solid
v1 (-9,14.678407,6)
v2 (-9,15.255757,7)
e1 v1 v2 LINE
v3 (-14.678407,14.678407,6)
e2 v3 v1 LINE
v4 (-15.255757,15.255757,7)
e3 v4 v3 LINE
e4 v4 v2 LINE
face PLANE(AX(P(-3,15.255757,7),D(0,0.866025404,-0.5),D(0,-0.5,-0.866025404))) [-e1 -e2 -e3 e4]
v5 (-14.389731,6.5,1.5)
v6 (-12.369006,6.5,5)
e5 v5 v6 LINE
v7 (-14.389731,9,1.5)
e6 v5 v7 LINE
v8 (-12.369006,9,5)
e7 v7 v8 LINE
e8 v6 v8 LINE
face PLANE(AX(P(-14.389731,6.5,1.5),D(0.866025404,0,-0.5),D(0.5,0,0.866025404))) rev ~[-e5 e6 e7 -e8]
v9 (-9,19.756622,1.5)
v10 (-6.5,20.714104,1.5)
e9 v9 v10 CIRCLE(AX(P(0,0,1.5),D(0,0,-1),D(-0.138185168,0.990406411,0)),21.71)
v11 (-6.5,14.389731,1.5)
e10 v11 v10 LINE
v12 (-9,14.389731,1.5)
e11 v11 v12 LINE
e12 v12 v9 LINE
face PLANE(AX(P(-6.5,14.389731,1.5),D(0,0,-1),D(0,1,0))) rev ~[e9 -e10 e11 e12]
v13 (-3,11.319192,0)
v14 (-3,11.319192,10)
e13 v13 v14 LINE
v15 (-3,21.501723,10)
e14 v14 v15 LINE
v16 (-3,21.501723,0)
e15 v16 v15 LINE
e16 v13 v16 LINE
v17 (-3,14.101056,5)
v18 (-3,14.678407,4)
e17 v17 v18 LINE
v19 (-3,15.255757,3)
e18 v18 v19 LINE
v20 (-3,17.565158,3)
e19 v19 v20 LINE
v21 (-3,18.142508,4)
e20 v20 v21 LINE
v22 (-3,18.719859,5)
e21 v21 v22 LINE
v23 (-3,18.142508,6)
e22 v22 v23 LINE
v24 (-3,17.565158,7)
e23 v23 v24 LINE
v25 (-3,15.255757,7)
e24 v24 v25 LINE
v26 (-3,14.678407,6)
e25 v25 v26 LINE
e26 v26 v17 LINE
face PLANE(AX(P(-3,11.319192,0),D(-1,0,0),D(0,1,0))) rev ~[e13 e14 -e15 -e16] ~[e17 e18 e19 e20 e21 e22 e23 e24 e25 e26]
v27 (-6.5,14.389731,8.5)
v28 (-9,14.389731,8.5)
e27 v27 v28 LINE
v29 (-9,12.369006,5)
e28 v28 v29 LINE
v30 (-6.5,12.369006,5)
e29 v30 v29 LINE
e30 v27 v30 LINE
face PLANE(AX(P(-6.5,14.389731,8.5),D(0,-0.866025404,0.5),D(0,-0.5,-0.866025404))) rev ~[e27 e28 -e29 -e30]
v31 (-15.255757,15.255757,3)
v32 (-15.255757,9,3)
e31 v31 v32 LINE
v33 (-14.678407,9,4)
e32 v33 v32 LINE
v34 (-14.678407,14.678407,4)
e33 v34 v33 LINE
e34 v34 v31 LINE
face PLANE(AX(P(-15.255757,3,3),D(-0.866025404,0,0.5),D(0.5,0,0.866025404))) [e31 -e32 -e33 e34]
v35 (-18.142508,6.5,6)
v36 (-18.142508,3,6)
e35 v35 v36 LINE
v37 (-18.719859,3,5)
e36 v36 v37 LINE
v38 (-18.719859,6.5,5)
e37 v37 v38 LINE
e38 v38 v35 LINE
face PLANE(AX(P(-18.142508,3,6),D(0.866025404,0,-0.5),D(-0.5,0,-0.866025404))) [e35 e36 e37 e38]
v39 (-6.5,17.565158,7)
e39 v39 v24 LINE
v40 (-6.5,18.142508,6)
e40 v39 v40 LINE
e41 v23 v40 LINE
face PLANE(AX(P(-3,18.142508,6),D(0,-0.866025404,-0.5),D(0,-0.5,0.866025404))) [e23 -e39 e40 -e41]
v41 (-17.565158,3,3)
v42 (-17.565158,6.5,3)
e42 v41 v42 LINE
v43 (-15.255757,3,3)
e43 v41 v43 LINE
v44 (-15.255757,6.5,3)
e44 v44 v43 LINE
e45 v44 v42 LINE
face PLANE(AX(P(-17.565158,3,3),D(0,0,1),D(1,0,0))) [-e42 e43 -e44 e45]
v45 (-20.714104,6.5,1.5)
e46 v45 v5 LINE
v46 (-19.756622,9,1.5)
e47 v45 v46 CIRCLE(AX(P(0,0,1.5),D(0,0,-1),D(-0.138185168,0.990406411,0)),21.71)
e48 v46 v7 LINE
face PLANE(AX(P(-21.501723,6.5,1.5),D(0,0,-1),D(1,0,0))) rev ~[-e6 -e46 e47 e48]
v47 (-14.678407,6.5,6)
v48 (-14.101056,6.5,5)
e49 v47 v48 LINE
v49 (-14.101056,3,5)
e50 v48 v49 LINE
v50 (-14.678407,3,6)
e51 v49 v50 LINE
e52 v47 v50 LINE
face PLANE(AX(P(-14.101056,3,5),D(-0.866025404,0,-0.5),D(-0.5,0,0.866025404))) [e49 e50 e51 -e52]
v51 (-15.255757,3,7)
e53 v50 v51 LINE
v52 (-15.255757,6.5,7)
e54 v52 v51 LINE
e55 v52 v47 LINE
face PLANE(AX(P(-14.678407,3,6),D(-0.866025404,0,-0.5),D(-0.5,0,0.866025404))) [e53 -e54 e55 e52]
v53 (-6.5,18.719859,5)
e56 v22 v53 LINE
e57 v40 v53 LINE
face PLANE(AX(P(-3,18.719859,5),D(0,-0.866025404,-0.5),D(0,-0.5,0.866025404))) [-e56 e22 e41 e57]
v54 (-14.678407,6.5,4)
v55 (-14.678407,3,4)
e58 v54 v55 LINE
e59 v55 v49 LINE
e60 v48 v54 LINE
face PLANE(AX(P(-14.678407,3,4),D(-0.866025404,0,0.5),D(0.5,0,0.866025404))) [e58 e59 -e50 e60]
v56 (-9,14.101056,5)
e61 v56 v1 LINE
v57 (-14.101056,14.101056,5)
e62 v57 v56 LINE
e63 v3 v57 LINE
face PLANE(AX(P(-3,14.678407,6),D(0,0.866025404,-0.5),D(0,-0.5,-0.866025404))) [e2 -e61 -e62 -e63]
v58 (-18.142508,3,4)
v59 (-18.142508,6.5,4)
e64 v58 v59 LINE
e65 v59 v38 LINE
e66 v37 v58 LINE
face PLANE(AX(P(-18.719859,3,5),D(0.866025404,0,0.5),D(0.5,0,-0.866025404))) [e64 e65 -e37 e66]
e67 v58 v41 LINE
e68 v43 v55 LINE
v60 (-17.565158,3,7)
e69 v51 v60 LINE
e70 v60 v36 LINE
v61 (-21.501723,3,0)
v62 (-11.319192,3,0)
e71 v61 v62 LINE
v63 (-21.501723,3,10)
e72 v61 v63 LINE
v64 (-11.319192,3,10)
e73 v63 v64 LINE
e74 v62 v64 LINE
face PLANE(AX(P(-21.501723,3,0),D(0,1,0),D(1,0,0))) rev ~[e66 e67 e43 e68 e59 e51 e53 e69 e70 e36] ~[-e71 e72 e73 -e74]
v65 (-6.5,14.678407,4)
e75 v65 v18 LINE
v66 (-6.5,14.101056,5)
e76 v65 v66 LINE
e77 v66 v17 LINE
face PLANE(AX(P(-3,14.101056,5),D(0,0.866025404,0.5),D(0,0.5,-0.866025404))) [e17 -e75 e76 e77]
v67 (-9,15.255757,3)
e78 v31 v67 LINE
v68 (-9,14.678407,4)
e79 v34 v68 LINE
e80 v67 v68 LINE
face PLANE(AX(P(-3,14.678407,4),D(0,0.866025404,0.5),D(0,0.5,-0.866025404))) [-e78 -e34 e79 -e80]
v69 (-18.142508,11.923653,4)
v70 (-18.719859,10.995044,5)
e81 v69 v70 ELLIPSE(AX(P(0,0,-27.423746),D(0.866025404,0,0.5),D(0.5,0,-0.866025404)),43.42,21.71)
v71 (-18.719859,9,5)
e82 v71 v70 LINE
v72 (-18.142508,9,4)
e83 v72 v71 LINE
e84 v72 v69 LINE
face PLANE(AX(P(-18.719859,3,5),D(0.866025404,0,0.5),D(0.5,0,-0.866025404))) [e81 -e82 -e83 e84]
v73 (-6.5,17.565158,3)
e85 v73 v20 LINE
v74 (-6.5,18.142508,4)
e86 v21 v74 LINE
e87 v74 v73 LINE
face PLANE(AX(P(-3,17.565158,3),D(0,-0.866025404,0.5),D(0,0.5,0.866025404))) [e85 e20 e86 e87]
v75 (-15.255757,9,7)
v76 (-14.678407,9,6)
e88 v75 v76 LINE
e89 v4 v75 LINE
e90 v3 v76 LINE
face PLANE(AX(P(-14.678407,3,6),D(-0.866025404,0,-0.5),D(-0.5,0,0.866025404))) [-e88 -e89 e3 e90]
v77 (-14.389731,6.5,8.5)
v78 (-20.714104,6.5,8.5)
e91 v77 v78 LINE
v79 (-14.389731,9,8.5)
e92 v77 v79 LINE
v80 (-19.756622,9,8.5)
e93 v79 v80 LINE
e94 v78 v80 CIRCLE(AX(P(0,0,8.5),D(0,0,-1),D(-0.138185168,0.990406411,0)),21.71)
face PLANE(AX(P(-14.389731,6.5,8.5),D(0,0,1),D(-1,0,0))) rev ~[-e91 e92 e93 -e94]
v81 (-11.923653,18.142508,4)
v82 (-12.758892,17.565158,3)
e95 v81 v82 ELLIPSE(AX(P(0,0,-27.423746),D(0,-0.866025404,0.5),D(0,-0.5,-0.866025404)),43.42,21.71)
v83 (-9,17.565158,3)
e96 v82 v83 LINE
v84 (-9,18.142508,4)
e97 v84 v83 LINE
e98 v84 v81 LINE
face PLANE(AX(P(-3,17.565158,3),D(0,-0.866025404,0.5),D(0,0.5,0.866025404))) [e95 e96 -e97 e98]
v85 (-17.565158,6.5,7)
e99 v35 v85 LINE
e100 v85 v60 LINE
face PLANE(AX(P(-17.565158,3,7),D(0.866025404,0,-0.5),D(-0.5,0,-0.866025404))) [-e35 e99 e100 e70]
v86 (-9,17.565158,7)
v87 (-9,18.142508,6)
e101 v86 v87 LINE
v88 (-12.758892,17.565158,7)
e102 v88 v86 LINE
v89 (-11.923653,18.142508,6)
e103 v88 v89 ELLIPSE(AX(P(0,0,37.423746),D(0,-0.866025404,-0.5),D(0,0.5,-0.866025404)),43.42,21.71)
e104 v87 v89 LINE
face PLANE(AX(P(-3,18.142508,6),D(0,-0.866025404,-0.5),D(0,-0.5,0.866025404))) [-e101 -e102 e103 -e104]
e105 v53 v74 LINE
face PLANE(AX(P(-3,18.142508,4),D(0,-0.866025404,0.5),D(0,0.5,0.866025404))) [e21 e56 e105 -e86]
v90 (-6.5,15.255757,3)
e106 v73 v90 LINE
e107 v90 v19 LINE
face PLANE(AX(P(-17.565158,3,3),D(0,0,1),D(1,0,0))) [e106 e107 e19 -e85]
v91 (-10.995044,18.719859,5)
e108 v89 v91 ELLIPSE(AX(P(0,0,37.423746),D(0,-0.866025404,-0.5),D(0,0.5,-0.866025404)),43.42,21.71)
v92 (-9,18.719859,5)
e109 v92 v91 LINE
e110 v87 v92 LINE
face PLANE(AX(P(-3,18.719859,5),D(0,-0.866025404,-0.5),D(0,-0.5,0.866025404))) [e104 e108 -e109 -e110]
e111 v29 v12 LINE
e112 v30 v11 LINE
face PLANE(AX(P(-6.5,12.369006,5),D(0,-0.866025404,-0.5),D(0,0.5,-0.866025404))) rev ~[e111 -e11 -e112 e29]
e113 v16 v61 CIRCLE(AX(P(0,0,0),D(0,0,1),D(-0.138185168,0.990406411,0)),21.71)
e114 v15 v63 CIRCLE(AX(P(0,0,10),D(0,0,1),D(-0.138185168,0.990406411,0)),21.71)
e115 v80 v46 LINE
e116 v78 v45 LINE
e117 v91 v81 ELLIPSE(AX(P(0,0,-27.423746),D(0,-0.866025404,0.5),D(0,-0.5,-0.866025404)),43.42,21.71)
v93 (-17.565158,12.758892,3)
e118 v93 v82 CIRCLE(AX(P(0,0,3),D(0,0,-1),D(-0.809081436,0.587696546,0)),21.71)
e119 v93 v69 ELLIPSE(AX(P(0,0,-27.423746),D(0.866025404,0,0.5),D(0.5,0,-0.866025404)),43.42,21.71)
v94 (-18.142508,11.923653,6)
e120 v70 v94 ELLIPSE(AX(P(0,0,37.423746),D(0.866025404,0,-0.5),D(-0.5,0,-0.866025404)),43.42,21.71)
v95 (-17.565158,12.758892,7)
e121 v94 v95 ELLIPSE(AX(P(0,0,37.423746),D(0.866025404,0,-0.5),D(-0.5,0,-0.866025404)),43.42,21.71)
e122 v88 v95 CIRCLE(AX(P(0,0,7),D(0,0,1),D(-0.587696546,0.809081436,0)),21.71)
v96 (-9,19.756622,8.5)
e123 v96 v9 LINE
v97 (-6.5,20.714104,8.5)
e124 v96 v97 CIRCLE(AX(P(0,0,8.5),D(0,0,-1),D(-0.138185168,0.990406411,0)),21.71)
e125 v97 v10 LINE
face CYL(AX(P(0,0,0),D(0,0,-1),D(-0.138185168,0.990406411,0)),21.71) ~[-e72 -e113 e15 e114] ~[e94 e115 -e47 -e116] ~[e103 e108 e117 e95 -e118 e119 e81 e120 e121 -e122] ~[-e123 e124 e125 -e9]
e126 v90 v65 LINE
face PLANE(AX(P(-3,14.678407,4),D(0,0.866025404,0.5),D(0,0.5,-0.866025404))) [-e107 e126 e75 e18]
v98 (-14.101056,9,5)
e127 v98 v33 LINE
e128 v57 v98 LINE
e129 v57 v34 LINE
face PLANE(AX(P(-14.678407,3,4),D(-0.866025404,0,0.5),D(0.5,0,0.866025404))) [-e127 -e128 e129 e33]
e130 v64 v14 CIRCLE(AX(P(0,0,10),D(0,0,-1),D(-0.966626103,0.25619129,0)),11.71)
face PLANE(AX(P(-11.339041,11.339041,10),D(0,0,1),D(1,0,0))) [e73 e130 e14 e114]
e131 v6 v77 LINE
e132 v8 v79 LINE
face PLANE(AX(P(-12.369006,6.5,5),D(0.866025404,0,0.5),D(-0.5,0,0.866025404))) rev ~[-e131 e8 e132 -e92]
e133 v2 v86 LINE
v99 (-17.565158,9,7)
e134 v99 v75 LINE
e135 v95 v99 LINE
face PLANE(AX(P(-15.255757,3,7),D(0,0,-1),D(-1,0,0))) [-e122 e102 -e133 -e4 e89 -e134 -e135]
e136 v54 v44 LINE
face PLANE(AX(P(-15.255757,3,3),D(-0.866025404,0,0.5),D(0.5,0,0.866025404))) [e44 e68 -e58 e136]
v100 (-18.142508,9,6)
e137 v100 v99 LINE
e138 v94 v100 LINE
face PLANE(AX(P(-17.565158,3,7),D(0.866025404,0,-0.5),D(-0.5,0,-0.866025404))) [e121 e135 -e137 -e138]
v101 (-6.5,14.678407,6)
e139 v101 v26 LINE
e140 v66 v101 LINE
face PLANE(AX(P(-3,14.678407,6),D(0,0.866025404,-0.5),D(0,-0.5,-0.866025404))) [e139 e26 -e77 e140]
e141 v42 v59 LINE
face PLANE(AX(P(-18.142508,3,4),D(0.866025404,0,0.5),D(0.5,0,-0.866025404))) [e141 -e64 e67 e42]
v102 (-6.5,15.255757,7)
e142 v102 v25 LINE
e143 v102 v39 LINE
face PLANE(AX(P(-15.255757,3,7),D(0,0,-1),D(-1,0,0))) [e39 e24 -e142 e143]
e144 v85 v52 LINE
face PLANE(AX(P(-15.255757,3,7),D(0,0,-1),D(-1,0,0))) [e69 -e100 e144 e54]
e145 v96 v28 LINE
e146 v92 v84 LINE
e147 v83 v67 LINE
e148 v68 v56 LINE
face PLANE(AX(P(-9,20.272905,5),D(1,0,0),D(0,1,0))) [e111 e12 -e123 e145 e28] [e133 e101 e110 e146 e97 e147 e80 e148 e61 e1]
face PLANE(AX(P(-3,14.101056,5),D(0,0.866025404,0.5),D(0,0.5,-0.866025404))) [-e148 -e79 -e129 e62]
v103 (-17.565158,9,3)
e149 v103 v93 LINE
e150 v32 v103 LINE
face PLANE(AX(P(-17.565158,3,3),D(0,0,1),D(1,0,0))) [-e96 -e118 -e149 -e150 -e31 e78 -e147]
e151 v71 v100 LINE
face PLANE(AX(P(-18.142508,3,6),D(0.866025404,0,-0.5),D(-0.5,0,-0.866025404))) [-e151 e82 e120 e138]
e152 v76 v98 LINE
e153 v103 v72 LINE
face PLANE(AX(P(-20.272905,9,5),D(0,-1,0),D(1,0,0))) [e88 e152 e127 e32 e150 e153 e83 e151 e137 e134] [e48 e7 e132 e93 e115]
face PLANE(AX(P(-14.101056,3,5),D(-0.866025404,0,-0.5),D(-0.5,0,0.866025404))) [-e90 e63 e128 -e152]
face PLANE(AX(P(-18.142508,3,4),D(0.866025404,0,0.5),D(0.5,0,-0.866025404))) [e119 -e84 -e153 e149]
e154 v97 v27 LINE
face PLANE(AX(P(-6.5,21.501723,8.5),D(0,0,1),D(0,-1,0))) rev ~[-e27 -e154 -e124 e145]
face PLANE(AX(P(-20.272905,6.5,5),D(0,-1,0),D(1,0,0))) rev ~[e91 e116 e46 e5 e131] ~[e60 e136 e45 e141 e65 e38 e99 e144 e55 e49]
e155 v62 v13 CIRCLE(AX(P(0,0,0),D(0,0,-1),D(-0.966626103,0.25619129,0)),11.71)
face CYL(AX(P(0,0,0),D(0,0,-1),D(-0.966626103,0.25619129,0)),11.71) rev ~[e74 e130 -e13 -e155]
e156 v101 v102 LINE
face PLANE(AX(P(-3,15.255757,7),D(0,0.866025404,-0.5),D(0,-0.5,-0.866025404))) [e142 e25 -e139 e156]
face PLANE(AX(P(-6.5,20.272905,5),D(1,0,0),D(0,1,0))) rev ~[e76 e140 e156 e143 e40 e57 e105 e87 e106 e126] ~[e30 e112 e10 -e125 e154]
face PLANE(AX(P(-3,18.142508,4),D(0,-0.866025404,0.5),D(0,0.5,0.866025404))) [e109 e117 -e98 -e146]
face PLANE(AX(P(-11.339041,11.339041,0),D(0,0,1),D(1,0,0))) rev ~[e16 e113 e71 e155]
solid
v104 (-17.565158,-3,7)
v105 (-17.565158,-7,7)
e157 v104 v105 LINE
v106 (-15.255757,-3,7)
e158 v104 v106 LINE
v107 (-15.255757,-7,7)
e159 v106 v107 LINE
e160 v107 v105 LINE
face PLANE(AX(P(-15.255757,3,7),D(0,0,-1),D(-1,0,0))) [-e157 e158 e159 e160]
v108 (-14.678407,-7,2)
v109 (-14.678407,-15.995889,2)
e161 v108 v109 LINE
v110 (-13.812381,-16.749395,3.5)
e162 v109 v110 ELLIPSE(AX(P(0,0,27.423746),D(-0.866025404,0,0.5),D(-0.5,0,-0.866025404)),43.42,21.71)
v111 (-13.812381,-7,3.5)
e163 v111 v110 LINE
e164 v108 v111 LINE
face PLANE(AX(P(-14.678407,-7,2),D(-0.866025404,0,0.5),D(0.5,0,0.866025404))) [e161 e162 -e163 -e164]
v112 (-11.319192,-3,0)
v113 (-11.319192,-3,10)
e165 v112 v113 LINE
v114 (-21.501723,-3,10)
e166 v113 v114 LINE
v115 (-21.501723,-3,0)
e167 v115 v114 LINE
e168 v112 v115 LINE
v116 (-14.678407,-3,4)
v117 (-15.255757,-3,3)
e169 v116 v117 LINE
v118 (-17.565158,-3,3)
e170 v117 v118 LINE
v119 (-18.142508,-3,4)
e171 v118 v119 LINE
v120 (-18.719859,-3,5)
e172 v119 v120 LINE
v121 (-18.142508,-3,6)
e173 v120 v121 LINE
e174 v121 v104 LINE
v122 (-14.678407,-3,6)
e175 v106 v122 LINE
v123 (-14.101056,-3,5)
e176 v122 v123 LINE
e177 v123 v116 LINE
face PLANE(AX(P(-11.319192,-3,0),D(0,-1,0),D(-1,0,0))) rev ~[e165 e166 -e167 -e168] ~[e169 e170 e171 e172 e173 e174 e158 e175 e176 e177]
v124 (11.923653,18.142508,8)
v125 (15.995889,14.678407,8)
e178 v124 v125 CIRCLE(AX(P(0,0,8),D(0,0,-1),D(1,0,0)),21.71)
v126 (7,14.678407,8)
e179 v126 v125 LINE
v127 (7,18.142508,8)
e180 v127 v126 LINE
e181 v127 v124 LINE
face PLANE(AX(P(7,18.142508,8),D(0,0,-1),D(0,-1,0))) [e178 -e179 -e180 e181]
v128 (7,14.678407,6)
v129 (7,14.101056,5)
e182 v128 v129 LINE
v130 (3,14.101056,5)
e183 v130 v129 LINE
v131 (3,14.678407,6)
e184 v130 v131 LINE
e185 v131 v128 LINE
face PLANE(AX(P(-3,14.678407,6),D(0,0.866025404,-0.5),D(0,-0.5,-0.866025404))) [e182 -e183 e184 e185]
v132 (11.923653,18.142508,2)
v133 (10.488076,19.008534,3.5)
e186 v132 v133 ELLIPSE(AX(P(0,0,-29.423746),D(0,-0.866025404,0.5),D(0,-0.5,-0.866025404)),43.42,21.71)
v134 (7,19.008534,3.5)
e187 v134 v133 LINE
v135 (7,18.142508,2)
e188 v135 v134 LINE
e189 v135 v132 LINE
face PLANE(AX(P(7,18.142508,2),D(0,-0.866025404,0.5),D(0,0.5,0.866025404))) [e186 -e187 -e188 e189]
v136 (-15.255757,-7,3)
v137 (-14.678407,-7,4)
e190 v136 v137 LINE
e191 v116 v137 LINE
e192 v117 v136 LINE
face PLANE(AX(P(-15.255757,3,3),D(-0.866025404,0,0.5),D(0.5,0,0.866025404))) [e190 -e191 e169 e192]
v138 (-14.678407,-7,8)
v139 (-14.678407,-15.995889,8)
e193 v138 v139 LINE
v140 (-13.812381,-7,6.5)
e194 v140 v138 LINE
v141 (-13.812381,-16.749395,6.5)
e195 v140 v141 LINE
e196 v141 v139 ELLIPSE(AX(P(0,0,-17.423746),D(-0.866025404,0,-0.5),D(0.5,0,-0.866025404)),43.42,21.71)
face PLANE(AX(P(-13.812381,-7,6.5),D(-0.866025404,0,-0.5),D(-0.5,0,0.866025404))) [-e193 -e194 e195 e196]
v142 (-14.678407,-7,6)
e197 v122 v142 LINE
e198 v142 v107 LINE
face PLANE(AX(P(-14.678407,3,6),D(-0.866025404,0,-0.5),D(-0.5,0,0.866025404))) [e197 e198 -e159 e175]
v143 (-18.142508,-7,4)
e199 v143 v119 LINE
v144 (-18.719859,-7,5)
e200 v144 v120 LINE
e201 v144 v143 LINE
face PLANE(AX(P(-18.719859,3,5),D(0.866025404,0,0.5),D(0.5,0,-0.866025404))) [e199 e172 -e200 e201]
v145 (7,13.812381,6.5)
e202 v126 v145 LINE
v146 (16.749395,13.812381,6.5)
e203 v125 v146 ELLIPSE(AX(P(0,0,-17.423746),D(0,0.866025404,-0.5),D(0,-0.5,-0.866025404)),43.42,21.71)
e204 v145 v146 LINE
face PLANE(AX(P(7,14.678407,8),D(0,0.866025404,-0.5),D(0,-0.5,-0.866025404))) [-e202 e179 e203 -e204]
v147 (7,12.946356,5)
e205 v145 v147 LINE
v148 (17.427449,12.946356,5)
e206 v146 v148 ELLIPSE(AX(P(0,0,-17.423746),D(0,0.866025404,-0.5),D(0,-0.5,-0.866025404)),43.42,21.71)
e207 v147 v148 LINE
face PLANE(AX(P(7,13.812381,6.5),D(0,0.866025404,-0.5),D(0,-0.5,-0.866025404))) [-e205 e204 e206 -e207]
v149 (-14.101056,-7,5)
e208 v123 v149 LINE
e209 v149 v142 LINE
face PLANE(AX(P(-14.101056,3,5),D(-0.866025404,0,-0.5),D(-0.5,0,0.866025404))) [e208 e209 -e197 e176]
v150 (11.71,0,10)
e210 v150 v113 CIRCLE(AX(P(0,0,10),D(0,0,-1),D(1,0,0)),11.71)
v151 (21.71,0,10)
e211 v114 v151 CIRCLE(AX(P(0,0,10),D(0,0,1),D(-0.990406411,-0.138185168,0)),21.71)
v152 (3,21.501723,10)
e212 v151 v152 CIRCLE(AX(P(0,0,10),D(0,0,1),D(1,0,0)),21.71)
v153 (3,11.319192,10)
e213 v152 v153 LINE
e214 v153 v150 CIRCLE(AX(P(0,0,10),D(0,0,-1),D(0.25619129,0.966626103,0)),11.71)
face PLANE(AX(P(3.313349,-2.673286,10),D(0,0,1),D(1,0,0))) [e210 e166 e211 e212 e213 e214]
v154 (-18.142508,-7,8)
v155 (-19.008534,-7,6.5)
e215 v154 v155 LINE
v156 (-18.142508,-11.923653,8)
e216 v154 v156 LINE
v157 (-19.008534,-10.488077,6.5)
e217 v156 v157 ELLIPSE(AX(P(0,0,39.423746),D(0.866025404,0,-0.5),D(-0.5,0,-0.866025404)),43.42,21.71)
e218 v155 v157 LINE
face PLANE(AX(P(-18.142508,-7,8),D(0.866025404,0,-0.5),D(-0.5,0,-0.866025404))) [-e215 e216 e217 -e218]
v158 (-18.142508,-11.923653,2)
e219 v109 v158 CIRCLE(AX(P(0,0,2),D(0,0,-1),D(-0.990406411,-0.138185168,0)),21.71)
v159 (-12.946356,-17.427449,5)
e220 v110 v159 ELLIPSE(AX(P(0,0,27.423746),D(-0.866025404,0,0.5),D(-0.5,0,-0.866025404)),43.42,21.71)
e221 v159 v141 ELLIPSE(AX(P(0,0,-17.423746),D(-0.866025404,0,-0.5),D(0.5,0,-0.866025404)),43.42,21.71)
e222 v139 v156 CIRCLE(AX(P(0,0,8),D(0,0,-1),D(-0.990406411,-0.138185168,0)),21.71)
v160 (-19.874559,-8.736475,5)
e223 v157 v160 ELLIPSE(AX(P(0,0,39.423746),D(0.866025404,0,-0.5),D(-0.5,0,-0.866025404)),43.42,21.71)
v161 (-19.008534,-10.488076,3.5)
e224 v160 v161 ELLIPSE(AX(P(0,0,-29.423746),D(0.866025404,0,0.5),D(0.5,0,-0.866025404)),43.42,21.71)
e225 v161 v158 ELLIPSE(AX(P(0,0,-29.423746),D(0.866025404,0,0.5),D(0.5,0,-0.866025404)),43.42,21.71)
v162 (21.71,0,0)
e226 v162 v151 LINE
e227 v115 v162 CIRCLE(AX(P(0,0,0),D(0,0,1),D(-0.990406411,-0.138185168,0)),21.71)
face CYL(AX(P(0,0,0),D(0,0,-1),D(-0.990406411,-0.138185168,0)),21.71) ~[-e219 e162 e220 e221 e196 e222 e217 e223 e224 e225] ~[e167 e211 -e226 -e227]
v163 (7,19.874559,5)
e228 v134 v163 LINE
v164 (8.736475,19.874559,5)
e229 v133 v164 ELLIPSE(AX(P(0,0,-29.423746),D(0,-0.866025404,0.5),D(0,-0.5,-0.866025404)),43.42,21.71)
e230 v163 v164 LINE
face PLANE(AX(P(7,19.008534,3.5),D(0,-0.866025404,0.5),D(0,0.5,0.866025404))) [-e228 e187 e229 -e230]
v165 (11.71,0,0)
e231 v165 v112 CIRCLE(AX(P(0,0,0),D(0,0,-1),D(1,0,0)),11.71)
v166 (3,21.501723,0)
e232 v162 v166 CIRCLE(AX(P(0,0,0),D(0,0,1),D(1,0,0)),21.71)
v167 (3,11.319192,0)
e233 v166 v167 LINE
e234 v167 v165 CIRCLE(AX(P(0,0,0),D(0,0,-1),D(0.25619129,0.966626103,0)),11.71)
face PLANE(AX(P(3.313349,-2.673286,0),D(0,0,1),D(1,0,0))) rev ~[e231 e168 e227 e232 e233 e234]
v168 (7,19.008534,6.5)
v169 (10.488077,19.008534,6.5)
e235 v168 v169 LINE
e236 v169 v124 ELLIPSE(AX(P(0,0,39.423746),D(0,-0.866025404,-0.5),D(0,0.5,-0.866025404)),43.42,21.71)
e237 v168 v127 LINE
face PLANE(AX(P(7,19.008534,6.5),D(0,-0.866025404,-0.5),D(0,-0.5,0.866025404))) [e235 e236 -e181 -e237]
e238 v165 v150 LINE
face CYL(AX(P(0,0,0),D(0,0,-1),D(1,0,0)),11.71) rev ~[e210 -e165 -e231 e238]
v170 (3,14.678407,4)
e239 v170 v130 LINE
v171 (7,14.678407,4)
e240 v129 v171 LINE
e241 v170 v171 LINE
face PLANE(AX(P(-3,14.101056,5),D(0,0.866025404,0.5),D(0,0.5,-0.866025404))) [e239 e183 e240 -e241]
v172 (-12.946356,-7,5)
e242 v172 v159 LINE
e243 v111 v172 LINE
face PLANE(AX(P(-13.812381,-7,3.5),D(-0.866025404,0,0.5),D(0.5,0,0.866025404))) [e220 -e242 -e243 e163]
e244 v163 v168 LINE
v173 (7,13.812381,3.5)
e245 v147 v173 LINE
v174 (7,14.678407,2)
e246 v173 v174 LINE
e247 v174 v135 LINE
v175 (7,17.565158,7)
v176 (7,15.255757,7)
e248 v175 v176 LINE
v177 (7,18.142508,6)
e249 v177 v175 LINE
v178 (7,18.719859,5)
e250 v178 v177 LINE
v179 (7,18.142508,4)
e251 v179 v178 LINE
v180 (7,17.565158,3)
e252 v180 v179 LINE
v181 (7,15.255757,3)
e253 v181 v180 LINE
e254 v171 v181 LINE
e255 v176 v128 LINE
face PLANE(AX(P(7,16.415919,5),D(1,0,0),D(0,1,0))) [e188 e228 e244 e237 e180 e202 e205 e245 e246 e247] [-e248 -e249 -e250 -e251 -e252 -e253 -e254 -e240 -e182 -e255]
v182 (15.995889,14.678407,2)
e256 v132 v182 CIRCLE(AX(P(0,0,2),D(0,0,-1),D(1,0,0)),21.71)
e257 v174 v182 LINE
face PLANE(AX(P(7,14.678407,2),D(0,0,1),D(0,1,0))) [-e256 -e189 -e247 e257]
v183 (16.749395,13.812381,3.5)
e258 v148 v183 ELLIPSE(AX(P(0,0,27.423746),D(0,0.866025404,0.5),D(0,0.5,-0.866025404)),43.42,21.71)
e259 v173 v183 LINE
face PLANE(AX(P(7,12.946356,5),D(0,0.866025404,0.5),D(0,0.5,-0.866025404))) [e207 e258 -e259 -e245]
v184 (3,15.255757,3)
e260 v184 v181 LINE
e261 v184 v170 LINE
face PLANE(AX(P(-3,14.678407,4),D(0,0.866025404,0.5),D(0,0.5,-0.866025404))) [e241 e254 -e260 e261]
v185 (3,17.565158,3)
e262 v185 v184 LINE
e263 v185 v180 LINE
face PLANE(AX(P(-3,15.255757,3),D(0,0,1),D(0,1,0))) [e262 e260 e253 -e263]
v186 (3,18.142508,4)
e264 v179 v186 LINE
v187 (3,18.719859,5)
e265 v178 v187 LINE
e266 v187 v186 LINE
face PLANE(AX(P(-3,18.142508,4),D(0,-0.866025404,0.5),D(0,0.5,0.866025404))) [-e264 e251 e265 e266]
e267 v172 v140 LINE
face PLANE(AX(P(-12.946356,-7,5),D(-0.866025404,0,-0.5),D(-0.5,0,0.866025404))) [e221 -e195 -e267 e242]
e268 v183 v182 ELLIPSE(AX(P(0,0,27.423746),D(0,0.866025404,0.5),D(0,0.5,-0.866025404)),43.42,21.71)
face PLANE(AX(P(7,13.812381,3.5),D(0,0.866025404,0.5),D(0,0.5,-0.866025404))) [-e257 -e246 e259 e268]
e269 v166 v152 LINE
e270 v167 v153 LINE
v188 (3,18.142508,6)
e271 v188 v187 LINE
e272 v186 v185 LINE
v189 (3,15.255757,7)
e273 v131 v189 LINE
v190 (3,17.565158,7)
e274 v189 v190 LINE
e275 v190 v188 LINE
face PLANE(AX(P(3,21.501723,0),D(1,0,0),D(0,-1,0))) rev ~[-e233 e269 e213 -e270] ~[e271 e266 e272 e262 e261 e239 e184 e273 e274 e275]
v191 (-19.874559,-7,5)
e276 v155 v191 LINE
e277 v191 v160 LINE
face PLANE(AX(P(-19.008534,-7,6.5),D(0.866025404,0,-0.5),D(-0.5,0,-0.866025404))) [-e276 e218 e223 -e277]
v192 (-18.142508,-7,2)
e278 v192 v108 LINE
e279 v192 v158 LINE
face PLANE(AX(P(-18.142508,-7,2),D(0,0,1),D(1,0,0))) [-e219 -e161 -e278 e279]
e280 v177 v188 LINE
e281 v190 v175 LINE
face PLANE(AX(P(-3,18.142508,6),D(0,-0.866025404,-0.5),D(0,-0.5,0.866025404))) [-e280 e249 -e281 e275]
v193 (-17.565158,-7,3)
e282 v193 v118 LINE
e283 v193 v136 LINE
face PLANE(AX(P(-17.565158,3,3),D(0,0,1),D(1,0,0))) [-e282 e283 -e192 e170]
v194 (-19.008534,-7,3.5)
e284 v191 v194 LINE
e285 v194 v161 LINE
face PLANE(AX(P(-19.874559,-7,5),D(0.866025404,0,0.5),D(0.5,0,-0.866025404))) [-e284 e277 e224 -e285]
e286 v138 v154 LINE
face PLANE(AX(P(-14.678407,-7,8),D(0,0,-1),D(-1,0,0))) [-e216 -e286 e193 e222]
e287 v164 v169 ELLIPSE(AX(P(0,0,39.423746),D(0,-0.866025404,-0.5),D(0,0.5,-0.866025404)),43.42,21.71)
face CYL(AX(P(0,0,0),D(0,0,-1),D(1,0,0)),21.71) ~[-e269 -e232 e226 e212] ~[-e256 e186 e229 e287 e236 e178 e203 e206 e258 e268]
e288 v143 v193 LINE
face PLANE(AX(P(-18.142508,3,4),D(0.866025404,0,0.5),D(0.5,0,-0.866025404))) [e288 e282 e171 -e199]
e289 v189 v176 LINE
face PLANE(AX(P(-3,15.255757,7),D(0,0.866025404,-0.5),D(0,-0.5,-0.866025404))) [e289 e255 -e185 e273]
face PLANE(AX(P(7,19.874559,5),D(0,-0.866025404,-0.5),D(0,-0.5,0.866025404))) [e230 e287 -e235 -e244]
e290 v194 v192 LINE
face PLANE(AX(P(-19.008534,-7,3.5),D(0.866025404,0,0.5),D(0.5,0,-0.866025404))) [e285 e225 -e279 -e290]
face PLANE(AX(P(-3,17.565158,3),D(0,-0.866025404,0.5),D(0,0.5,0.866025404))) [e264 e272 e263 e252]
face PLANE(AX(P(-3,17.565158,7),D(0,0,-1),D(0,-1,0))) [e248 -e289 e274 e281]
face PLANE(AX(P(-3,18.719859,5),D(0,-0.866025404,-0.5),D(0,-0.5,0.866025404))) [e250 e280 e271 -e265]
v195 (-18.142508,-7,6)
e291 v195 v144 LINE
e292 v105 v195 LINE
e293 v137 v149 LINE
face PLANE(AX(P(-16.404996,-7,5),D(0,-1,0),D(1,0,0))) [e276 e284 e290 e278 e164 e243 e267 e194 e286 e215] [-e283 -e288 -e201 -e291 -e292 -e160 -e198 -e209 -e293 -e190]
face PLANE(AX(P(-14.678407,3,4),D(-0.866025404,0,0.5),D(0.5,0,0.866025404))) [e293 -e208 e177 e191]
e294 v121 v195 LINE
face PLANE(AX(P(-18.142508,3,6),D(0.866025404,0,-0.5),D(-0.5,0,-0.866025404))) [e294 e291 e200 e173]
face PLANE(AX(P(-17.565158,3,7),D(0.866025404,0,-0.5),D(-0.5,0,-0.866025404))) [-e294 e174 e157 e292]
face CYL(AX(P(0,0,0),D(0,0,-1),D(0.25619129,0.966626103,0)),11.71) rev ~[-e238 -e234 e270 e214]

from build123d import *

# Parameters (mm, degrees)
F1_DEPTH      = 10
F3_DEPTH      = 18.5027231868
F3_DEPTH_BACK = 24.711
F5_DEPTH      = 18.5027231868
F5_DEPTH_BACK = 24.711
F6_START      = 10
F6_DEPTH      = 15
F7_START      = 10
F7_DEPTH      = 15
F8_R          = 1.5
F9_DEPTH      = 25
F10_R         = 1.5
F11_DEPTH     = 25
F12_START     = -3.5
F12_DEPTH     = 2.5
F13_START     = -3.5
F13_DEPTH     = 2.5


with BuildPart() as f1:
    # F0 (on Top) → F1 (new body)
    with BuildSketch(Plane.XY):
        with BuildLine():
            ThreePointArc((-11.3191916673, 3), (-8.2802204077, 8.2802204077), (-3, 11.3191916673))
            Line((-3, 11.3191916673), (-3, 21.5017231868))
            ThreePointArc((-3, 21.5017231868), (-15.3512882196, 15.3512882196), (-21.5017231868, 3))
            Line((-21.5017231868, 3), (-11.3191916673, 3))
        make_face()
    extrude(amount=F1_DEPTH)


with BuildPart() as f1b:
    # F0 (on Top) → F1, piece 2 (new body)
    with BuildSketch(Plane.XY):
        with BuildLine():
            ThreePointArc((3, 11.3191916673), (9.2804660443, 7.1412218842), (11.71, 0))
            ThreePointArc((11.71, 0), (1.5126740522, -11.6118868928), (-11.3191916673, -3))
            Line((-11.3191916673, -3), (-21.5017231868, -3))
            ThreePointArc((-21.5017231868, -3), (1.5036105905, -21.6578682052), (21.71, 0))
            ThreePointArc((21.71, 0), (16.3776387187, 14.2512122291), (3, 21.5017231868))
            Line((3, 21.5017231868), (3, 11.3191916673))
        make_face()
    extrude(amount=F1_DEPTH)


with BuildPart() as f3_tool:
    # F2 (on face) → F3 (new body, two sides)
    with BuildSketch(Plane.XZ.offset(-3)) as f3_sk:
        with BuildLine():
            Line((-17.5651579654, 3), (-16.410457427, 3))
            ThreePointArc((-16.410457427, 3), (-17.4104574053, 3.2679491799), (-18.1425082096, 3.9999999567))
            Line((-18.1425082096, 3.9999999567), (-17.5651579654, 3))
        make_face()
        with BuildLine():
            Line((-15.2557568886, 3), (-14.6784066445, 3.9999999567))
            ThreePointArc((-14.6784066445, 3.9999999567), (-15.4104574487, 3.2679491799), (-16.410457427, 3))
            Line((-16.410457427, 3), (-15.2557568886, 3))
        make_face()
        with BuildLine():
            ThreePointArc((-14.6784066445, 6.0000000433), (-14.4786057809, 5.5176381144), (-14.410457427, 5))
            ThreePointArc((-14.410457427, 5), (-14.4786057809, 4.4823618856), (-14.6784066445, 3.9999999567))
            Line((-14.6784066445, 3.9999999567), (-14.1010563502, 5))
            Line((-14.1010563502, 5), (-14.6784066445, 6.0000000433))
        make_face()
        with BuildLine():
            ThreePointArc((-16.410457427, 7), (-15.4104574487, 6.7320508201), (-14.6784066445, 6.0000000433))
            Line((-14.6784066445, 6.0000000433), (-15.2557568886, 7))
            Line((-15.2557568886, 7), (-16.410457427, 7))
        make_face()
        with BuildLine():
            ThreePointArc((-18.1425082096, 3.9999999567), (-18.410457427, 4.9999999686), (-18.142508241, 5.9999999889))
            Line((-18.142508241, 5.9999999889), (-18.7198585038, 5))
            Line((-18.7198585038, 5), (-18.1425082096, 3.9999999567))
        make_face()
        with BuildLine():
            ThreePointArc((-14.6784066445, 3.9999999567), (-14.4786057809, 4.4823618856), (-14.410457427, 5))
            ThreePointArc((-14.410457427, 5), (-14.4786057809, 5.5176381144), (-14.6784066445, 6.0000000433))
            ThreePointArc((-14.6784066445, 6.0000000433), (-15.4104574487, 6.7320508201), (-16.410457427, 7))
            ThreePointArc((-16.410457427, 7), (-17.4104574326, 6.7320508044), (-18.142508241, 5.9999999889))
            ThreePointArc((-18.142508241, 5.9999999889), (-18.410457427, 4.9999999686), (-18.1425082096, 3.9999999567))
            ThreePointArc((-18.1425082096, 3.9999999567), (-17.4104574053, 3.2679491799), (-16.410457427, 3))
            ThreePointArc((-16.410457427, 3), (-15.4104574487, 3.2679491799), (-14.6784066445, 3.9999999567))
        make_face()
        with BuildLine():
            ThreePointArc((-18.142508241, 5.9999999889), (-17.4104574326, 6.7320508044), (-16.410457427, 7))
            Line((-16.410457427, 7), (-17.5651579654, 7))
            Line((-17.5651579654, 7), (-18.142508241, 5.9999999889))
        make_face()
    extrude(amount=-F3_DEPTH)
    extrude(f3_sk.sketch, amount=F3_DEPTH_BACK)


with BuildPart() as f1_1:
    add(f1.part)

    # F3: cut by f3_tool
    add(f3_tool.part, mode=Mode.SUBTRACT)


with BuildPart() as f1b_1:
    add(f1b.part)

    # F3: cut by f3_tool
    add(f3_tool.part, mode=Mode.SUBTRACT)


with BuildPart() as f5_tool:
    # F4 (on face) → F5 (new body, two sides)
    with BuildSketch(Plane.YZ.offset(-3)) as f5_sk:
        with BuildLine():
            ThreePointArc((16.410457427, 7), (17.4104574053, 6.7320508201), (18.1425082096, 6.0000000433))
            Line((18.1425082096, 6.0000000433), (17.5651579654, 7))
            Line((17.5651579654, 7), (16.410457427, 7))
        make_face()
        with BuildLine():
            Line((17.5651579654, 3), (18.142508241, 4.0000000111))
            ThreePointArc((18.142508241, 4.0000000111), (17.4104574326, 3.2679491956), (16.410457427, 3))
            Line((16.410457427, 3), (17.5651579654, 3))
        make_face()
        with BuildLine():
            ThreePointArc((18.1425082096, 6.0000000433), (18.3423090731, 5.5176381144), (18.410457427, 5))
            ThreePointArc((18.410457427, 5), (18.3423090812, 4.482361916), (18.142508241, 4.0000000111))
            Line((18.142508241, 4.0000000111), (18.7198585038, 5))
            Line((18.7198585038, 5), (18.1425082096, 6.0000000433))
        make_face()
        with BuildLine():
            ThreePointArc((14.6784066324, 6.0000000225), (15.4104574383, 6.7320508141), (16.410457427, 7))
            Line((16.410457427, 7), (15.2557568886, 7))
            Line((15.2557568886, 7), (14.6784066324, 6.0000000225))
        make_face()
        with BuildLine():
            ThreePointArc((14.678406613, 4.0000000111), (14.410457427, 5.0000000194), (14.6784066324, 6.0000000225))
            Line((14.6784066324, 6.0000000225), (14.1010563502, 5))
            Line((14.1010563502, 5), (14.678406613, 4.0000000111))
        make_face()
        with BuildLine():
            Line((15.2557568886, 3), (16.410457427, 3))
            ThreePointArc((16.410457427, 3), (15.4104574214, 3.2679491956), (14.678406613, 4.0000000111))
            Line((14.678406613, 4.0000000111), (15.2557568886, 3))
        make_face()
        with BuildLine():
            ThreePointArc((18.142508241, 4.0000000111), (18.3423090812, 4.482361916), (18.410457427, 5))
            ThreePointArc((18.410457427, 5), (18.3423090731, 5.5176381144), (18.1425082096, 6.0000000433))
            ThreePointArc((18.1425082096, 6.0000000433), (17.4104574053, 6.7320508201), (16.410457427, 7))
            ThreePointArc((16.410457427, 7), (15.4104574383, 6.7320508141), (14.6784066324, 6.0000000225))
            ThreePointArc((14.6784066324, 6.0000000225), (14.410457427, 5.0000000194), (14.678406613, 4.0000000111))
            ThreePointArc((14.678406613, 4.0000000111), (15.4104574214, 3.2679491956), (16.410457427, 3))
            ThreePointArc((16.410457427, 3), (17.4104574326, 3.2679491956), (18.142508241, 4.0000000111))
        make_face()
    extrude(amount=-F5_DEPTH)
    extrude(f5_sk.sketch, amount=F5_DEPTH_BACK)


with BuildPart() as f1_2:
    add(f1_1.part)

    # F5: cut by f5_tool
    add(f5_tool.part, mode=Mode.SUBTRACT)

    # F8 (on face) → F9 (cut)
    with BuildSketch(Plane(origin=(3, 0, 0), x_dir=(0, -1, 0), z_dir=(-1, 0, 0))):
        with Locations((-16.410457427, 5)):
            Circle(F8_R)
    extrude(amount=-F9_DEPTH, mode=Mode.SUBTRACT)

    # F10 (on face) → F11 (cut)
    with BuildSketch(Plane(origin=(0, -3, 0), x_dir=(-1, 0, 0), z_dir=(0, 1, 0))):
        with Locations((16.410457427, 5)):
            Circle(F10_R)
    extrude(amount=-F11_DEPTH, mode=Mode.SUBTRACT)

    # F4 (on face) → F12 (cut)
    with BuildSketch(Plane.YZ.offset(-3).offset(F12_START)):
        Polygon((20.4519093113, 5), (18.4311833692, 1.5), (21.5017231868, 1.5), (21.5017231868, 8.5), (18.4311833692, 8.5), align=None)
        Polygon((14.3897314848, 1.5), (18.4311833692, 1.5), (20.4519093113, 5), (18.4311833692, 8.5), (14.3897314848, 8.5), (12.3690055427, 5), align=None)
        Polygon((18.1425082346, 8), (19.0085336253, 6.5000000226), (19.8745590421, 5), (19.0085336636, 3.5000000436), (18.1425082346, 2), (16.410457427, 2), (14.6784066194, 2), (13.8123811995, 3.500000028), (12.9463558119, 5), (13.8123812433, 6.5000000478), (14.6784066194, 8), (16.410457427, 8), align=None, mode=Mode.SUBTRACT)
        with BuildLine():
            ThreePointArc((19.0085336253, 6.5000000226), (19.3082349025, 5.7764571479), (19.410457427, 5))
            ThreePointArc((19.410457427, 5), (19.3082349124, 4.223542889), (19.0085336636, 3.5000000436))
            Line((19.0085336636, 3.5000000436), (19.8745590421, 5))
            Line((19.8745590421, 5), (19.0085336253, 6.5000000226))
        make_face()
        with BuildLine():
            ThreePointArc((16.410457427, 8), (17.9104574157, 7.5980762179), (19.0085336253, 6.5000000226))
            Line((19.0085336253, 6.5000000226), (18.1425082346, 8))
            Line((18.1425082346, 8), (16.410457427, 8))
        make_face()
        with BuildLine():
            Line((18.1425082346, 2), (19.0085336636, 3.5000000436))
            ThreePointArc((19.0085336636, 3.5000000436), (17.9104574488, 2.4019238012), (16.410457427, 2))
            Line((16.410457427, 2), (18.1425082346, 2))
        make_face()
        with BuildLine():
            Line((14.6784066194, 2), (16.410457427, 2))
            ThreePointArc((16.410457427, 2), (14.910457413, 2.4019237967), (13.8123811995, 3.500000028))
            Line((13.8123811995, 3.500000028), (14.6784066194, 2))
        make_face()
        with BuildLine():
            ThreePointArc((13.8123811995, 3.500000028), (13.410457427, 5.0000000438), (13.8123812433, 6.5000000478))
            Line((13.8123812433, 6.5000000478), (12.9463558119, 5))
            Line((12.9463558119, 5), (13.8123811995, 3.500000028))
        make_face()
        with BuildLine():
            ThreePointArc((13.8123812433, 6.5000000478), (14.9104574509, 7.5980762252), (16.410457427, 8))
            Line((16.410457427, 8), (14.6784066194, 8))
            Line((14.6784066194, 8), (13.8123812433, 6.5000000478))
        make_face()
        with BuildLine():
            ThreePointArc((19.0085336636, 3.5000000436), (19.3082349124, 4.223542889), (19.410457427, 5))
            ThreePointArc((19.410457427, 5), (19.3082349025, 5.7764571479), (19.0085336253, 6.5000000226))
            ThreePointArc((19.0085336253, 6.5000000226), (17.9104574157, 7.5980762179), (16.410457427, 8))
            ThreePointArc((16.410457427, 8), (14.9104574509, 7.5980762252), (13.8123812433, 6.5000000478))
            ThreePointArc((13.8123812433, 6.5000000478), (13.410457427, 5.0000000438), (13.8123811995, 3.500000028))
            ThreePointArc((13.8123811995, 3.500000028), (14.910457413, 2.4019237967), (16.410457427, 2))
            ThreePointArc((16.410457427, 2), (17.9104574488, 2.4019238012), (19.0085336636, 3.5000000436))
        make_face()
        Polygon((17.5651579654, 7), (18.1425082096, 6.0000000433), (18.7198585038, 5), (18.142508241, 4.0000000111), (17.5651579654, 3), (16.410457427, 3), (15.2557568886, 3), (14.678406613, 4.0000000111), (14.1010563502, 5), (14.6784066324, 6.0000000225), (15.2557568886, 7), (16.410457427, 7), align=None, mode=Mode.SUBTRACT)
    extrude(amount=-F12_DEPTH, mode=Mode.SUBTRACT)

    # F2 (on face) → F13 (cut)
    with BuildSketch(Plane.XZ.offset(-3).offset(F13_START)):
        Polygon((-20.4519093113, 5), (-18.4311833692, 8.5), (-21.5017231868, 8.5), (-21.5017231868, 1.5), (-18.4311833692, 1.5), align=None)
        Polygon((-14.3897314848, 8.5), (-18.4311833692, 8.5), (-20.4519093113, 5), (-18.4311833692, 1.5), (-14.3897314848, 1.5), (-12.3690055427, 5), align=None)
        Polygon((-14.6784066194, 8), (-13.8123811905, 6.4999999564), (-12.9463558119, 5), (-13.8123812523, 3.4999999365), (-14.6784066194, 2), (-16.410457427, 2), (-18.1425082346, 2), (-19.0085336787, 3.5000000698), (-19.8745590421, 5), (-19.0085335545, 6.5000001453), (-18.1425082346, 8), (-16.410457427, 8), align=None, mode=Mode.SUBTRACT)
        with BuildLine():
            ThreePointArc((-19.0085336787, 3.5000000698), (-19.410457427, 5.0000001242), (-19.0085335545, 6.5000001453))
            Line((-19.0085335545, 6.5000001453), (-19.8745590421, 5))
            Line((-19.8745590421, 5), (-19.0085336787, 3.5000000698))
        make_face()
        with BuildLine():
            Line((-18.1425082346, 2), (-16.410457427, 2))
            ThreePointArc((-16.410457427, 2), (-17.9104574619, 2.4019238088), (-19.0085336787, 3.5000000698))
            Line((-19.0085336787, 3.5000000698), (-18.1425082346, 2))
        make_face()
        with BuildLine():
            ThreePointArc((-19.0085335545, 6.5000001453), (-17.9104573544, 7.5980762533), (-16.410457427, 8))
            Line((-16.410457427, 8), (-18.1425082346, 8))
            Line((-18.1425082346, 8), (-19.0085335545, 6.5000001453))
        make_face()
        with BuildLine():
            ThreePointArc((-16.410457427, 8), (-14.9104574052, 7.5980761988), (-13.8123811905, 6.4999999564))
            Line((-13.8123811905, 6.4999999564), (-14.6784066194, 8))
            Line((-14.6784066194, 8), (-16.410457427, 8))
        make_face()
        with BuildLine():
            ThreePointArc((-13.8123811905, 6.4999999564), (-13.5126799416, 5.776457111), (-13.410457427, 5))
            ThreePointArc((-13.410457427, 5), (-13.5126799576, 4.2235428293), (-13.8123812523, 3.4999999365))
            Line((-13.8123812523, 3.4999999365), (-12.9463558119, 5))
            Line((-12.9463558119, 5), (-13.8123811905, 6.4999999564))
        make_face()
        with BuildLine():
            Line((-14.6784066194, 2), (-13.8123812523, 3.4999999365))
            ThreePointArc((-13.8123812523, 3.4999999365), (-14.9104574587, 2.4019237703), (-16.410457427, 2))
            Line((-16.410457427, 2), (-14.6784066194, 2))
        make_face()
        with BuildLine():
            ThreePointArc((-13.8123812523, 3.4999999365), (-13.5126799576, 4.2235428293), (-13.410457427, 5))
            ThreePointArc((-13.410457427, 5), (-13.5126799416, 5.776457111), (-13.8123811905, 6.4999999564))
            ThreePointArc((-13.8123811905, 6.4999999564), (-14.9104574052, 7.5980761988), (-16.410457427, 8))
            ThreePointArc((-16.410457427, 8), (-17.9104573544, 7.5980762533), (-19.0085335545, 6.5000001453))
            ThreePointArc((-19.0085335545, 6.5000001453), (-19.410457427, 5.0000001242), (-19.0085336787, 3.5000000698))
            ThreePointArc((-19.0085336787, 3.5000000698), (-17.9104574619, 2.4019238088), (-16.410457427, 2))
            ThreePointArc((-16.410457427, 2), (-14.9104574587, 2.4019237703), (-13.8123812523, 3.4999999365))
        make_face()
        Polygon((-15.2557568886, 7), (-14.6784066445, 6.0000000433), (-14.1010563502, 5), (-14.6784066445, 3.9999999567), (-15.2557568886, 3), (-16.410457427, 3), (-17.5651579654, 3), (-18.1425082096, 3.9999999567), (-18.7198585038, 5), (-18.142508241, 5.9999999889), (-17.5651579654, 7), (-16.410457427, 7), align=None, mode=Mode.SUBTRACT)
    extrude(amount=-F13_DEPTH, mode=Mode.SUBTRACT)


with BuildPart() as f1b_2:
    add(f1b_1.part)

    # F5: cut by f5_tool
    add(f5_tool.part, mode=Mode.SUBTRACT)

    # F2 (on face) → F6 (cut)
    with BuildSketch(Plane.XZ.offset(-3).offset(F6_START)):
        with BuildLine():
            ThreePointArc((-13.8123812523, 3.4999999365), (-13.5126799576, 4.2235428293), (-13.410457427, 5))
            ThreePointArc((-13.410457427, 5), (-13.5126799416, 5.776457111), (-13.8123811905, 6.4999999564))
            ThreePointArc((-13.8123811905, 6.4999999564), (-14.9104574052, 7.5980761988), (-16.410457427, 8))
            ThreePointArc((-16.410457427, 8), (-17.9104573544, 7.5980762533), (-19.0085335545, 6.5000001453))
            ThreePointArc((-19.0085335545, 6.5000001453), (-19.410457427, 5.0000001242), (-19.0085336787, 3.5000000698))
            ThreePointArc((-19.0085336787, 3.5000000698), (-17.9104574619, 2.4019238088), (-16.410457427, 2))
            ThreePointArc((-16.410457427, 2), (-14.9104574587, 2.4019237703), (-13.8123812523, 3.4999999365))
        make_face()
        Polygon((-15.2557568886, 7), (-14.6784066445, 6.0000000433), (-14.1010563502, 5), (-14.6784066445, 3.9999999567), (-15.2557568886, 3), (-16.410457427, 3), (-17.5651579654, 3), (-18.1425082096, 3.9999999567), (-18.7198585038, 5), (-18.142508241, 5.9999999889), (-17.5651579654, 7), (-16.410457427, 7), align=None, mode=Mode.SUBTRACT)
        with BuildLine():
            ThreePointArc((-19.0085335545, 6.5000001453), (-17.9104573544, 7.5980762533), (-16.410457427, 8))
            Line((-16.410457427, 8), (-18.1425082346, 8))
            Line((-18.1425082346, 8), (-19.0085335545, 6.5000001453))
        make_face()
        with BuildLine():
            ThreePointArc((-19.0085336787, 3.5000000698), (-19.410457427, 5.0000001242), (-19.0085335545, 6.5000001453))
            Line((-19.0085335545, 6.5000001453), (-19.8745590421, 5))
            Line((-19.8745590421, 5), (-19.0085336787, 3.5000000698))
        make_face()
        with BuildLine():
            Line((-18.1425082346, 2), (-16.410457427, 2))
            ThreePointArc((-16.410457427, 2), (-17.9104574619, 2.4019238088), (-19.0085336787, 3.5000000698))
            Line((-19.0085336787, 3.5000000698), (-18.1425082346, 2))
        make_face()
        with BuildLine():
            Line((-14.6784066194, 2), (-13.8123812523, 3.4999999365))
            ThreePointArc((-13.8123812523, 3.4999999365), (-14.9104574587, 2.4019237703), (-16.410457427, 2))
            Line((-16.410457427, 2), (-14.6784066194, 2))
        make_face()
        with BuildLine():
            ThreePointArc((-13.8123811905, 6.4999999564), (-13.5126799416, 5.776457111), (-13.410457427, 5))
            ThreePointArc((-13.410457427, 5), (-13.5126799576, 4.2235428293), (-13.8123812523, 3.4999999365))
            Line((-13.8123812523, 3.4999999365), (-12.9463558119, 5))
            Line((-12.9463558119, 5), (-13.8123811905, 6.4999999564))
        make_face()
        with BuildLine():
            ThreePointArc((-16.410457427, 8), (-14.9104574052, 7.5980761988), (-13.8123811905, 6.4999999564))
            Line((-13.8123811905, 6.4999999564), (-14.6784066194, 8))
            Line((-14.6784066194, 8), (-16.410457427, 8))
        make_face()
        with BuildLine():
            ThreePointArc((-16.410457427, 7), (-15.4104574487, 6.7320508201), (-14.6784066445, 6.0000000433))
            Line((-14.6784066445, 6.0000000433), (-15.2557568886, 7))
            Line((-15.2557568886, 7), (-16.410457427, 7))
        make_face()
        with BuildLine():
            ThreePointArc((-18.142508241, 5.9999999889), (-17.4104574326, 6.7320508044), (-16.410457427, 7))
            Line((-16.410457427, 7), (-17.5651579654, 7))
            Line((-17.5651579654, 7), (-18.142508241, 5.9999999889))
        make_face()
        with BuildLine():
            ThreePointArc((-18.1425082096, 3.9999999567), (-18.410457427, 4.9999999686), (-18.142508241, 5.9999999889))
            Line((-18.142508241, 5.9999999889), (-18.7198585038, 5))
            Line((-18.7198585038, 5), (-18.1425082096, 3.9999999567))
        make_face()
        with BuildLine():
            Line((-17.5651579654, 3), (-16.410457427, 3))
            ThreePointArc((-16.410457427, 3), (-17.4104574053, 3.2679491799), (-18.1425082096, 3.9999999567))
            Line((-18.1425082096, 3.9999999567), (-17.5651579654, 3))
        make_face()
        with BuildLine():
            Line((-15.2557568886, 3), (-14.6784066445, 3.9999999567))
            ThreePointArc((-14.6784066445, 3.9999999567), (-15.4104574487, 3.2679491799), (-16.410457427, 3))
            Line((-16.410457427, 3), (-15.2557568886, 3))
        make_face()
        with BuildLine():
            ThreePointArc((-14.6784066445, 6.0000000433), (-14.4786057809, 5.5176381144), (-14.410457427, 5))
            ThreePointArc((-14.410457427, 5), (-14.4786057809, 4.4823618856), (-14.6784066445, 3.9999999567))
            Line((-14.6784066445, 3.9999999567), (-14.1010563502, 5))
            Line((-14.1010563502, 5), (-14.6784066445, 6.0000000433))
        make_face()
    extrude(amount=F6_DEPTH, mode=Mode.SUBTRACT)

    # F4 (on face) → F7 (cut)
    with BuildSketch(Plane.YZ.offset(-3).offset(F7_START)):
        with BuildLine():
            ThreePointArc((19.0085336636, 3.5000000436), (19.3082349124, 4.223542889), (19.410457427, 5))
            ThreePointArc((19.410457427, 5), (19.3082349025, 5.7764571479), (19.0085336253, 6.5000000226))
            ThreePointArc((19.0085336253, 6.5000000226), (17.9104574157, 7.5980762179), (16.410457427, 8))
            ThreePointArc((16.410457427, 8), (14.9104574509, 7.5980762252), (13.8123812433, 6.5000000478))
            ThreePointArc((13.8123812433, 6.5000000478), (13.410457427, 5.0000000438), (13.8123811995, 3.500000028))
            ThreePointArc((13.8123811995, 3.500000028), (14.910457413, 2.4019237967), (16.410457427, 2))
            ThreePointArc((16.410457427, 2), (17.9104574488, 2.4019238012), (19.0085336636, 3.5000000436))
        make_face()
        Polygon((17.5651579654, 7), (18.1425082096, 6.0000000433), (18.7198585038, 5), (18.142508241, 4.0000000111), (17.5651579654, 3), (16.410457427, 3), (15.2557568886, 3), (14.678406613, 4.0000000111), (14.1010563502, 5), (14.6784066324, 6.0000000225), (15.2557568886, 7), (16.410457427, 7), align=None, mode=Mode.SUBTRACT)
        with BuildLine():
            Line((18.1425082346, 2), (19.0085336636, 3.5000000436))
            ThreePointArc((19.0085336636, 3.5000000436), (17.9104574488, 2.4019238012), (16.410457427, 2))
            Line((16.410457427, 2), (18.1425082346, 2))
        make_face()
        with BuildLine():
            Line((14.6784066194, 2), (16.410457427, 2))
            ThreePointArc((16.410457427, 2), (14.910457413, 2.4019237967), (13.8123811995, 3.500000028))
            Line((13.8123811995, 3.500000028), (14.6784066194, 2))
        make_face()
        with BuildLine():
            ThreePointArc((13.8123811995, 3.500000028), (13.410457427, 5.0000000438), (13.8123812433, 6.5000000478))
            Line((13.8123812433, 6.5000000478), (12.9463558119, 5))
            Line((12.9463558119, 5), (13.8123811995, 3.500000028))
        make_face()
        with BuildLine():
            ThreePointArc((13.8123812433, 6.5000000478), (14.9104574509, 7.5980762252), (16.410457427, 8))
            Line((16.410457427, 8), (14.6784066194, 8))
            Line((14.6784066194, 8), (13.8123812433, 6.5000000478))
        make_face()
        with BuildLine():
            ThreePointArc((16.410457427, 8), (17.9104574157, 7.5980762179), (19.0085336253, 6.5000000226))
            Line((19.0085336253, 6.5000000226), (18.1425082346, 8))
            Line((18.1425082346, 8), (16.410457427, 8))
        make_face()
        with BuildLine():
            ThreePointArc((19.0085336253, 6.5000000226), (19.3082349025, 5.7764571479), (19.410457427, 5))
            ThreePointArc((19.410457427, 5), (19.3082349124, 4.223542889), (19.0085336636, 3.5000000436))
            Line((19.0085336636, 3.5000000436), (19.8745590421, 5))
            Line((19.8745590421, 5), (19.0085336253, 6.5000000226))
        make_face()
        with BuildLine():
            ThreePointArc((16.410457427, 7), (17.4104574053, 6.7320508201), (18.1425082096, 6.0000000433))
            Line((18.1425082096, 6.0000000433), (17.5651579654, 7))
            Line((17.5651579654, 7), (16.410457427, 7))
        make_face()
        with BuildLine():
            ThreePointArc((14.6784066324, 6.0000000225), (15.4104574383, 6.7320508141), (16.410457427, 7))
            Line((16.410457427, 7), (15.2557568886, 7))
            Line((15.2557568886, 7), (14.6784066324, 6.0000000225))
        make_face()
        with BuildLine():
            ThreePointArc((14.678406613, 4.0000000111), (14.410457427, 5.0000000194), (14.6784066324, 6.0000000225))
            Line((14.6784066324, 6.0000000225), (14.1010563502, 5))
            Line((14.1010563502, 5), (14.678406613, 4.0000000111))
        make_face()
        with BuildLine():
            Line((15.2557568886, 3), (16.410457427, 3))
            ThreePointArc((16.410457427, 3), (15.4104574214, 3.2679491956), (14.678406613, 4.0000000111))
            Line((14.678406613, 4.0000000111), (15.2557568886, 3))
        make_face()
        with BuildLine():
            Line((17.5651579654, 3), (18.142508241, 4.0000000111))
            ThreePointArc((18.142508241, 4.0000000111), (17.4104574326, 3.2679491956), (16.410457427, 3))
            Line((16.410457427, 3), (17.5651579654, 3))
        make_face()
        with BuildLine():
            ThreePointArc((18.1425082096, 6.0000000433), (18.3423090731, 5.5176381144), (18.410457427, 5))
            ThreePointArc((18.410457427, 5), (18.3423090812, 4.482361916), (18.142508241, 4.0000000111))
            Line((18.142508241, 4.0000000111), (18.7198585038, 5))
            Line((18.7198585038, 5), (18.1425082096, 6.0000000433))
        make_face()
    extrude(amount=F7_DEPTH, mode=Mode.SUBTRACT)


solid = Compound([f1_2.part, f1b_2.part])
